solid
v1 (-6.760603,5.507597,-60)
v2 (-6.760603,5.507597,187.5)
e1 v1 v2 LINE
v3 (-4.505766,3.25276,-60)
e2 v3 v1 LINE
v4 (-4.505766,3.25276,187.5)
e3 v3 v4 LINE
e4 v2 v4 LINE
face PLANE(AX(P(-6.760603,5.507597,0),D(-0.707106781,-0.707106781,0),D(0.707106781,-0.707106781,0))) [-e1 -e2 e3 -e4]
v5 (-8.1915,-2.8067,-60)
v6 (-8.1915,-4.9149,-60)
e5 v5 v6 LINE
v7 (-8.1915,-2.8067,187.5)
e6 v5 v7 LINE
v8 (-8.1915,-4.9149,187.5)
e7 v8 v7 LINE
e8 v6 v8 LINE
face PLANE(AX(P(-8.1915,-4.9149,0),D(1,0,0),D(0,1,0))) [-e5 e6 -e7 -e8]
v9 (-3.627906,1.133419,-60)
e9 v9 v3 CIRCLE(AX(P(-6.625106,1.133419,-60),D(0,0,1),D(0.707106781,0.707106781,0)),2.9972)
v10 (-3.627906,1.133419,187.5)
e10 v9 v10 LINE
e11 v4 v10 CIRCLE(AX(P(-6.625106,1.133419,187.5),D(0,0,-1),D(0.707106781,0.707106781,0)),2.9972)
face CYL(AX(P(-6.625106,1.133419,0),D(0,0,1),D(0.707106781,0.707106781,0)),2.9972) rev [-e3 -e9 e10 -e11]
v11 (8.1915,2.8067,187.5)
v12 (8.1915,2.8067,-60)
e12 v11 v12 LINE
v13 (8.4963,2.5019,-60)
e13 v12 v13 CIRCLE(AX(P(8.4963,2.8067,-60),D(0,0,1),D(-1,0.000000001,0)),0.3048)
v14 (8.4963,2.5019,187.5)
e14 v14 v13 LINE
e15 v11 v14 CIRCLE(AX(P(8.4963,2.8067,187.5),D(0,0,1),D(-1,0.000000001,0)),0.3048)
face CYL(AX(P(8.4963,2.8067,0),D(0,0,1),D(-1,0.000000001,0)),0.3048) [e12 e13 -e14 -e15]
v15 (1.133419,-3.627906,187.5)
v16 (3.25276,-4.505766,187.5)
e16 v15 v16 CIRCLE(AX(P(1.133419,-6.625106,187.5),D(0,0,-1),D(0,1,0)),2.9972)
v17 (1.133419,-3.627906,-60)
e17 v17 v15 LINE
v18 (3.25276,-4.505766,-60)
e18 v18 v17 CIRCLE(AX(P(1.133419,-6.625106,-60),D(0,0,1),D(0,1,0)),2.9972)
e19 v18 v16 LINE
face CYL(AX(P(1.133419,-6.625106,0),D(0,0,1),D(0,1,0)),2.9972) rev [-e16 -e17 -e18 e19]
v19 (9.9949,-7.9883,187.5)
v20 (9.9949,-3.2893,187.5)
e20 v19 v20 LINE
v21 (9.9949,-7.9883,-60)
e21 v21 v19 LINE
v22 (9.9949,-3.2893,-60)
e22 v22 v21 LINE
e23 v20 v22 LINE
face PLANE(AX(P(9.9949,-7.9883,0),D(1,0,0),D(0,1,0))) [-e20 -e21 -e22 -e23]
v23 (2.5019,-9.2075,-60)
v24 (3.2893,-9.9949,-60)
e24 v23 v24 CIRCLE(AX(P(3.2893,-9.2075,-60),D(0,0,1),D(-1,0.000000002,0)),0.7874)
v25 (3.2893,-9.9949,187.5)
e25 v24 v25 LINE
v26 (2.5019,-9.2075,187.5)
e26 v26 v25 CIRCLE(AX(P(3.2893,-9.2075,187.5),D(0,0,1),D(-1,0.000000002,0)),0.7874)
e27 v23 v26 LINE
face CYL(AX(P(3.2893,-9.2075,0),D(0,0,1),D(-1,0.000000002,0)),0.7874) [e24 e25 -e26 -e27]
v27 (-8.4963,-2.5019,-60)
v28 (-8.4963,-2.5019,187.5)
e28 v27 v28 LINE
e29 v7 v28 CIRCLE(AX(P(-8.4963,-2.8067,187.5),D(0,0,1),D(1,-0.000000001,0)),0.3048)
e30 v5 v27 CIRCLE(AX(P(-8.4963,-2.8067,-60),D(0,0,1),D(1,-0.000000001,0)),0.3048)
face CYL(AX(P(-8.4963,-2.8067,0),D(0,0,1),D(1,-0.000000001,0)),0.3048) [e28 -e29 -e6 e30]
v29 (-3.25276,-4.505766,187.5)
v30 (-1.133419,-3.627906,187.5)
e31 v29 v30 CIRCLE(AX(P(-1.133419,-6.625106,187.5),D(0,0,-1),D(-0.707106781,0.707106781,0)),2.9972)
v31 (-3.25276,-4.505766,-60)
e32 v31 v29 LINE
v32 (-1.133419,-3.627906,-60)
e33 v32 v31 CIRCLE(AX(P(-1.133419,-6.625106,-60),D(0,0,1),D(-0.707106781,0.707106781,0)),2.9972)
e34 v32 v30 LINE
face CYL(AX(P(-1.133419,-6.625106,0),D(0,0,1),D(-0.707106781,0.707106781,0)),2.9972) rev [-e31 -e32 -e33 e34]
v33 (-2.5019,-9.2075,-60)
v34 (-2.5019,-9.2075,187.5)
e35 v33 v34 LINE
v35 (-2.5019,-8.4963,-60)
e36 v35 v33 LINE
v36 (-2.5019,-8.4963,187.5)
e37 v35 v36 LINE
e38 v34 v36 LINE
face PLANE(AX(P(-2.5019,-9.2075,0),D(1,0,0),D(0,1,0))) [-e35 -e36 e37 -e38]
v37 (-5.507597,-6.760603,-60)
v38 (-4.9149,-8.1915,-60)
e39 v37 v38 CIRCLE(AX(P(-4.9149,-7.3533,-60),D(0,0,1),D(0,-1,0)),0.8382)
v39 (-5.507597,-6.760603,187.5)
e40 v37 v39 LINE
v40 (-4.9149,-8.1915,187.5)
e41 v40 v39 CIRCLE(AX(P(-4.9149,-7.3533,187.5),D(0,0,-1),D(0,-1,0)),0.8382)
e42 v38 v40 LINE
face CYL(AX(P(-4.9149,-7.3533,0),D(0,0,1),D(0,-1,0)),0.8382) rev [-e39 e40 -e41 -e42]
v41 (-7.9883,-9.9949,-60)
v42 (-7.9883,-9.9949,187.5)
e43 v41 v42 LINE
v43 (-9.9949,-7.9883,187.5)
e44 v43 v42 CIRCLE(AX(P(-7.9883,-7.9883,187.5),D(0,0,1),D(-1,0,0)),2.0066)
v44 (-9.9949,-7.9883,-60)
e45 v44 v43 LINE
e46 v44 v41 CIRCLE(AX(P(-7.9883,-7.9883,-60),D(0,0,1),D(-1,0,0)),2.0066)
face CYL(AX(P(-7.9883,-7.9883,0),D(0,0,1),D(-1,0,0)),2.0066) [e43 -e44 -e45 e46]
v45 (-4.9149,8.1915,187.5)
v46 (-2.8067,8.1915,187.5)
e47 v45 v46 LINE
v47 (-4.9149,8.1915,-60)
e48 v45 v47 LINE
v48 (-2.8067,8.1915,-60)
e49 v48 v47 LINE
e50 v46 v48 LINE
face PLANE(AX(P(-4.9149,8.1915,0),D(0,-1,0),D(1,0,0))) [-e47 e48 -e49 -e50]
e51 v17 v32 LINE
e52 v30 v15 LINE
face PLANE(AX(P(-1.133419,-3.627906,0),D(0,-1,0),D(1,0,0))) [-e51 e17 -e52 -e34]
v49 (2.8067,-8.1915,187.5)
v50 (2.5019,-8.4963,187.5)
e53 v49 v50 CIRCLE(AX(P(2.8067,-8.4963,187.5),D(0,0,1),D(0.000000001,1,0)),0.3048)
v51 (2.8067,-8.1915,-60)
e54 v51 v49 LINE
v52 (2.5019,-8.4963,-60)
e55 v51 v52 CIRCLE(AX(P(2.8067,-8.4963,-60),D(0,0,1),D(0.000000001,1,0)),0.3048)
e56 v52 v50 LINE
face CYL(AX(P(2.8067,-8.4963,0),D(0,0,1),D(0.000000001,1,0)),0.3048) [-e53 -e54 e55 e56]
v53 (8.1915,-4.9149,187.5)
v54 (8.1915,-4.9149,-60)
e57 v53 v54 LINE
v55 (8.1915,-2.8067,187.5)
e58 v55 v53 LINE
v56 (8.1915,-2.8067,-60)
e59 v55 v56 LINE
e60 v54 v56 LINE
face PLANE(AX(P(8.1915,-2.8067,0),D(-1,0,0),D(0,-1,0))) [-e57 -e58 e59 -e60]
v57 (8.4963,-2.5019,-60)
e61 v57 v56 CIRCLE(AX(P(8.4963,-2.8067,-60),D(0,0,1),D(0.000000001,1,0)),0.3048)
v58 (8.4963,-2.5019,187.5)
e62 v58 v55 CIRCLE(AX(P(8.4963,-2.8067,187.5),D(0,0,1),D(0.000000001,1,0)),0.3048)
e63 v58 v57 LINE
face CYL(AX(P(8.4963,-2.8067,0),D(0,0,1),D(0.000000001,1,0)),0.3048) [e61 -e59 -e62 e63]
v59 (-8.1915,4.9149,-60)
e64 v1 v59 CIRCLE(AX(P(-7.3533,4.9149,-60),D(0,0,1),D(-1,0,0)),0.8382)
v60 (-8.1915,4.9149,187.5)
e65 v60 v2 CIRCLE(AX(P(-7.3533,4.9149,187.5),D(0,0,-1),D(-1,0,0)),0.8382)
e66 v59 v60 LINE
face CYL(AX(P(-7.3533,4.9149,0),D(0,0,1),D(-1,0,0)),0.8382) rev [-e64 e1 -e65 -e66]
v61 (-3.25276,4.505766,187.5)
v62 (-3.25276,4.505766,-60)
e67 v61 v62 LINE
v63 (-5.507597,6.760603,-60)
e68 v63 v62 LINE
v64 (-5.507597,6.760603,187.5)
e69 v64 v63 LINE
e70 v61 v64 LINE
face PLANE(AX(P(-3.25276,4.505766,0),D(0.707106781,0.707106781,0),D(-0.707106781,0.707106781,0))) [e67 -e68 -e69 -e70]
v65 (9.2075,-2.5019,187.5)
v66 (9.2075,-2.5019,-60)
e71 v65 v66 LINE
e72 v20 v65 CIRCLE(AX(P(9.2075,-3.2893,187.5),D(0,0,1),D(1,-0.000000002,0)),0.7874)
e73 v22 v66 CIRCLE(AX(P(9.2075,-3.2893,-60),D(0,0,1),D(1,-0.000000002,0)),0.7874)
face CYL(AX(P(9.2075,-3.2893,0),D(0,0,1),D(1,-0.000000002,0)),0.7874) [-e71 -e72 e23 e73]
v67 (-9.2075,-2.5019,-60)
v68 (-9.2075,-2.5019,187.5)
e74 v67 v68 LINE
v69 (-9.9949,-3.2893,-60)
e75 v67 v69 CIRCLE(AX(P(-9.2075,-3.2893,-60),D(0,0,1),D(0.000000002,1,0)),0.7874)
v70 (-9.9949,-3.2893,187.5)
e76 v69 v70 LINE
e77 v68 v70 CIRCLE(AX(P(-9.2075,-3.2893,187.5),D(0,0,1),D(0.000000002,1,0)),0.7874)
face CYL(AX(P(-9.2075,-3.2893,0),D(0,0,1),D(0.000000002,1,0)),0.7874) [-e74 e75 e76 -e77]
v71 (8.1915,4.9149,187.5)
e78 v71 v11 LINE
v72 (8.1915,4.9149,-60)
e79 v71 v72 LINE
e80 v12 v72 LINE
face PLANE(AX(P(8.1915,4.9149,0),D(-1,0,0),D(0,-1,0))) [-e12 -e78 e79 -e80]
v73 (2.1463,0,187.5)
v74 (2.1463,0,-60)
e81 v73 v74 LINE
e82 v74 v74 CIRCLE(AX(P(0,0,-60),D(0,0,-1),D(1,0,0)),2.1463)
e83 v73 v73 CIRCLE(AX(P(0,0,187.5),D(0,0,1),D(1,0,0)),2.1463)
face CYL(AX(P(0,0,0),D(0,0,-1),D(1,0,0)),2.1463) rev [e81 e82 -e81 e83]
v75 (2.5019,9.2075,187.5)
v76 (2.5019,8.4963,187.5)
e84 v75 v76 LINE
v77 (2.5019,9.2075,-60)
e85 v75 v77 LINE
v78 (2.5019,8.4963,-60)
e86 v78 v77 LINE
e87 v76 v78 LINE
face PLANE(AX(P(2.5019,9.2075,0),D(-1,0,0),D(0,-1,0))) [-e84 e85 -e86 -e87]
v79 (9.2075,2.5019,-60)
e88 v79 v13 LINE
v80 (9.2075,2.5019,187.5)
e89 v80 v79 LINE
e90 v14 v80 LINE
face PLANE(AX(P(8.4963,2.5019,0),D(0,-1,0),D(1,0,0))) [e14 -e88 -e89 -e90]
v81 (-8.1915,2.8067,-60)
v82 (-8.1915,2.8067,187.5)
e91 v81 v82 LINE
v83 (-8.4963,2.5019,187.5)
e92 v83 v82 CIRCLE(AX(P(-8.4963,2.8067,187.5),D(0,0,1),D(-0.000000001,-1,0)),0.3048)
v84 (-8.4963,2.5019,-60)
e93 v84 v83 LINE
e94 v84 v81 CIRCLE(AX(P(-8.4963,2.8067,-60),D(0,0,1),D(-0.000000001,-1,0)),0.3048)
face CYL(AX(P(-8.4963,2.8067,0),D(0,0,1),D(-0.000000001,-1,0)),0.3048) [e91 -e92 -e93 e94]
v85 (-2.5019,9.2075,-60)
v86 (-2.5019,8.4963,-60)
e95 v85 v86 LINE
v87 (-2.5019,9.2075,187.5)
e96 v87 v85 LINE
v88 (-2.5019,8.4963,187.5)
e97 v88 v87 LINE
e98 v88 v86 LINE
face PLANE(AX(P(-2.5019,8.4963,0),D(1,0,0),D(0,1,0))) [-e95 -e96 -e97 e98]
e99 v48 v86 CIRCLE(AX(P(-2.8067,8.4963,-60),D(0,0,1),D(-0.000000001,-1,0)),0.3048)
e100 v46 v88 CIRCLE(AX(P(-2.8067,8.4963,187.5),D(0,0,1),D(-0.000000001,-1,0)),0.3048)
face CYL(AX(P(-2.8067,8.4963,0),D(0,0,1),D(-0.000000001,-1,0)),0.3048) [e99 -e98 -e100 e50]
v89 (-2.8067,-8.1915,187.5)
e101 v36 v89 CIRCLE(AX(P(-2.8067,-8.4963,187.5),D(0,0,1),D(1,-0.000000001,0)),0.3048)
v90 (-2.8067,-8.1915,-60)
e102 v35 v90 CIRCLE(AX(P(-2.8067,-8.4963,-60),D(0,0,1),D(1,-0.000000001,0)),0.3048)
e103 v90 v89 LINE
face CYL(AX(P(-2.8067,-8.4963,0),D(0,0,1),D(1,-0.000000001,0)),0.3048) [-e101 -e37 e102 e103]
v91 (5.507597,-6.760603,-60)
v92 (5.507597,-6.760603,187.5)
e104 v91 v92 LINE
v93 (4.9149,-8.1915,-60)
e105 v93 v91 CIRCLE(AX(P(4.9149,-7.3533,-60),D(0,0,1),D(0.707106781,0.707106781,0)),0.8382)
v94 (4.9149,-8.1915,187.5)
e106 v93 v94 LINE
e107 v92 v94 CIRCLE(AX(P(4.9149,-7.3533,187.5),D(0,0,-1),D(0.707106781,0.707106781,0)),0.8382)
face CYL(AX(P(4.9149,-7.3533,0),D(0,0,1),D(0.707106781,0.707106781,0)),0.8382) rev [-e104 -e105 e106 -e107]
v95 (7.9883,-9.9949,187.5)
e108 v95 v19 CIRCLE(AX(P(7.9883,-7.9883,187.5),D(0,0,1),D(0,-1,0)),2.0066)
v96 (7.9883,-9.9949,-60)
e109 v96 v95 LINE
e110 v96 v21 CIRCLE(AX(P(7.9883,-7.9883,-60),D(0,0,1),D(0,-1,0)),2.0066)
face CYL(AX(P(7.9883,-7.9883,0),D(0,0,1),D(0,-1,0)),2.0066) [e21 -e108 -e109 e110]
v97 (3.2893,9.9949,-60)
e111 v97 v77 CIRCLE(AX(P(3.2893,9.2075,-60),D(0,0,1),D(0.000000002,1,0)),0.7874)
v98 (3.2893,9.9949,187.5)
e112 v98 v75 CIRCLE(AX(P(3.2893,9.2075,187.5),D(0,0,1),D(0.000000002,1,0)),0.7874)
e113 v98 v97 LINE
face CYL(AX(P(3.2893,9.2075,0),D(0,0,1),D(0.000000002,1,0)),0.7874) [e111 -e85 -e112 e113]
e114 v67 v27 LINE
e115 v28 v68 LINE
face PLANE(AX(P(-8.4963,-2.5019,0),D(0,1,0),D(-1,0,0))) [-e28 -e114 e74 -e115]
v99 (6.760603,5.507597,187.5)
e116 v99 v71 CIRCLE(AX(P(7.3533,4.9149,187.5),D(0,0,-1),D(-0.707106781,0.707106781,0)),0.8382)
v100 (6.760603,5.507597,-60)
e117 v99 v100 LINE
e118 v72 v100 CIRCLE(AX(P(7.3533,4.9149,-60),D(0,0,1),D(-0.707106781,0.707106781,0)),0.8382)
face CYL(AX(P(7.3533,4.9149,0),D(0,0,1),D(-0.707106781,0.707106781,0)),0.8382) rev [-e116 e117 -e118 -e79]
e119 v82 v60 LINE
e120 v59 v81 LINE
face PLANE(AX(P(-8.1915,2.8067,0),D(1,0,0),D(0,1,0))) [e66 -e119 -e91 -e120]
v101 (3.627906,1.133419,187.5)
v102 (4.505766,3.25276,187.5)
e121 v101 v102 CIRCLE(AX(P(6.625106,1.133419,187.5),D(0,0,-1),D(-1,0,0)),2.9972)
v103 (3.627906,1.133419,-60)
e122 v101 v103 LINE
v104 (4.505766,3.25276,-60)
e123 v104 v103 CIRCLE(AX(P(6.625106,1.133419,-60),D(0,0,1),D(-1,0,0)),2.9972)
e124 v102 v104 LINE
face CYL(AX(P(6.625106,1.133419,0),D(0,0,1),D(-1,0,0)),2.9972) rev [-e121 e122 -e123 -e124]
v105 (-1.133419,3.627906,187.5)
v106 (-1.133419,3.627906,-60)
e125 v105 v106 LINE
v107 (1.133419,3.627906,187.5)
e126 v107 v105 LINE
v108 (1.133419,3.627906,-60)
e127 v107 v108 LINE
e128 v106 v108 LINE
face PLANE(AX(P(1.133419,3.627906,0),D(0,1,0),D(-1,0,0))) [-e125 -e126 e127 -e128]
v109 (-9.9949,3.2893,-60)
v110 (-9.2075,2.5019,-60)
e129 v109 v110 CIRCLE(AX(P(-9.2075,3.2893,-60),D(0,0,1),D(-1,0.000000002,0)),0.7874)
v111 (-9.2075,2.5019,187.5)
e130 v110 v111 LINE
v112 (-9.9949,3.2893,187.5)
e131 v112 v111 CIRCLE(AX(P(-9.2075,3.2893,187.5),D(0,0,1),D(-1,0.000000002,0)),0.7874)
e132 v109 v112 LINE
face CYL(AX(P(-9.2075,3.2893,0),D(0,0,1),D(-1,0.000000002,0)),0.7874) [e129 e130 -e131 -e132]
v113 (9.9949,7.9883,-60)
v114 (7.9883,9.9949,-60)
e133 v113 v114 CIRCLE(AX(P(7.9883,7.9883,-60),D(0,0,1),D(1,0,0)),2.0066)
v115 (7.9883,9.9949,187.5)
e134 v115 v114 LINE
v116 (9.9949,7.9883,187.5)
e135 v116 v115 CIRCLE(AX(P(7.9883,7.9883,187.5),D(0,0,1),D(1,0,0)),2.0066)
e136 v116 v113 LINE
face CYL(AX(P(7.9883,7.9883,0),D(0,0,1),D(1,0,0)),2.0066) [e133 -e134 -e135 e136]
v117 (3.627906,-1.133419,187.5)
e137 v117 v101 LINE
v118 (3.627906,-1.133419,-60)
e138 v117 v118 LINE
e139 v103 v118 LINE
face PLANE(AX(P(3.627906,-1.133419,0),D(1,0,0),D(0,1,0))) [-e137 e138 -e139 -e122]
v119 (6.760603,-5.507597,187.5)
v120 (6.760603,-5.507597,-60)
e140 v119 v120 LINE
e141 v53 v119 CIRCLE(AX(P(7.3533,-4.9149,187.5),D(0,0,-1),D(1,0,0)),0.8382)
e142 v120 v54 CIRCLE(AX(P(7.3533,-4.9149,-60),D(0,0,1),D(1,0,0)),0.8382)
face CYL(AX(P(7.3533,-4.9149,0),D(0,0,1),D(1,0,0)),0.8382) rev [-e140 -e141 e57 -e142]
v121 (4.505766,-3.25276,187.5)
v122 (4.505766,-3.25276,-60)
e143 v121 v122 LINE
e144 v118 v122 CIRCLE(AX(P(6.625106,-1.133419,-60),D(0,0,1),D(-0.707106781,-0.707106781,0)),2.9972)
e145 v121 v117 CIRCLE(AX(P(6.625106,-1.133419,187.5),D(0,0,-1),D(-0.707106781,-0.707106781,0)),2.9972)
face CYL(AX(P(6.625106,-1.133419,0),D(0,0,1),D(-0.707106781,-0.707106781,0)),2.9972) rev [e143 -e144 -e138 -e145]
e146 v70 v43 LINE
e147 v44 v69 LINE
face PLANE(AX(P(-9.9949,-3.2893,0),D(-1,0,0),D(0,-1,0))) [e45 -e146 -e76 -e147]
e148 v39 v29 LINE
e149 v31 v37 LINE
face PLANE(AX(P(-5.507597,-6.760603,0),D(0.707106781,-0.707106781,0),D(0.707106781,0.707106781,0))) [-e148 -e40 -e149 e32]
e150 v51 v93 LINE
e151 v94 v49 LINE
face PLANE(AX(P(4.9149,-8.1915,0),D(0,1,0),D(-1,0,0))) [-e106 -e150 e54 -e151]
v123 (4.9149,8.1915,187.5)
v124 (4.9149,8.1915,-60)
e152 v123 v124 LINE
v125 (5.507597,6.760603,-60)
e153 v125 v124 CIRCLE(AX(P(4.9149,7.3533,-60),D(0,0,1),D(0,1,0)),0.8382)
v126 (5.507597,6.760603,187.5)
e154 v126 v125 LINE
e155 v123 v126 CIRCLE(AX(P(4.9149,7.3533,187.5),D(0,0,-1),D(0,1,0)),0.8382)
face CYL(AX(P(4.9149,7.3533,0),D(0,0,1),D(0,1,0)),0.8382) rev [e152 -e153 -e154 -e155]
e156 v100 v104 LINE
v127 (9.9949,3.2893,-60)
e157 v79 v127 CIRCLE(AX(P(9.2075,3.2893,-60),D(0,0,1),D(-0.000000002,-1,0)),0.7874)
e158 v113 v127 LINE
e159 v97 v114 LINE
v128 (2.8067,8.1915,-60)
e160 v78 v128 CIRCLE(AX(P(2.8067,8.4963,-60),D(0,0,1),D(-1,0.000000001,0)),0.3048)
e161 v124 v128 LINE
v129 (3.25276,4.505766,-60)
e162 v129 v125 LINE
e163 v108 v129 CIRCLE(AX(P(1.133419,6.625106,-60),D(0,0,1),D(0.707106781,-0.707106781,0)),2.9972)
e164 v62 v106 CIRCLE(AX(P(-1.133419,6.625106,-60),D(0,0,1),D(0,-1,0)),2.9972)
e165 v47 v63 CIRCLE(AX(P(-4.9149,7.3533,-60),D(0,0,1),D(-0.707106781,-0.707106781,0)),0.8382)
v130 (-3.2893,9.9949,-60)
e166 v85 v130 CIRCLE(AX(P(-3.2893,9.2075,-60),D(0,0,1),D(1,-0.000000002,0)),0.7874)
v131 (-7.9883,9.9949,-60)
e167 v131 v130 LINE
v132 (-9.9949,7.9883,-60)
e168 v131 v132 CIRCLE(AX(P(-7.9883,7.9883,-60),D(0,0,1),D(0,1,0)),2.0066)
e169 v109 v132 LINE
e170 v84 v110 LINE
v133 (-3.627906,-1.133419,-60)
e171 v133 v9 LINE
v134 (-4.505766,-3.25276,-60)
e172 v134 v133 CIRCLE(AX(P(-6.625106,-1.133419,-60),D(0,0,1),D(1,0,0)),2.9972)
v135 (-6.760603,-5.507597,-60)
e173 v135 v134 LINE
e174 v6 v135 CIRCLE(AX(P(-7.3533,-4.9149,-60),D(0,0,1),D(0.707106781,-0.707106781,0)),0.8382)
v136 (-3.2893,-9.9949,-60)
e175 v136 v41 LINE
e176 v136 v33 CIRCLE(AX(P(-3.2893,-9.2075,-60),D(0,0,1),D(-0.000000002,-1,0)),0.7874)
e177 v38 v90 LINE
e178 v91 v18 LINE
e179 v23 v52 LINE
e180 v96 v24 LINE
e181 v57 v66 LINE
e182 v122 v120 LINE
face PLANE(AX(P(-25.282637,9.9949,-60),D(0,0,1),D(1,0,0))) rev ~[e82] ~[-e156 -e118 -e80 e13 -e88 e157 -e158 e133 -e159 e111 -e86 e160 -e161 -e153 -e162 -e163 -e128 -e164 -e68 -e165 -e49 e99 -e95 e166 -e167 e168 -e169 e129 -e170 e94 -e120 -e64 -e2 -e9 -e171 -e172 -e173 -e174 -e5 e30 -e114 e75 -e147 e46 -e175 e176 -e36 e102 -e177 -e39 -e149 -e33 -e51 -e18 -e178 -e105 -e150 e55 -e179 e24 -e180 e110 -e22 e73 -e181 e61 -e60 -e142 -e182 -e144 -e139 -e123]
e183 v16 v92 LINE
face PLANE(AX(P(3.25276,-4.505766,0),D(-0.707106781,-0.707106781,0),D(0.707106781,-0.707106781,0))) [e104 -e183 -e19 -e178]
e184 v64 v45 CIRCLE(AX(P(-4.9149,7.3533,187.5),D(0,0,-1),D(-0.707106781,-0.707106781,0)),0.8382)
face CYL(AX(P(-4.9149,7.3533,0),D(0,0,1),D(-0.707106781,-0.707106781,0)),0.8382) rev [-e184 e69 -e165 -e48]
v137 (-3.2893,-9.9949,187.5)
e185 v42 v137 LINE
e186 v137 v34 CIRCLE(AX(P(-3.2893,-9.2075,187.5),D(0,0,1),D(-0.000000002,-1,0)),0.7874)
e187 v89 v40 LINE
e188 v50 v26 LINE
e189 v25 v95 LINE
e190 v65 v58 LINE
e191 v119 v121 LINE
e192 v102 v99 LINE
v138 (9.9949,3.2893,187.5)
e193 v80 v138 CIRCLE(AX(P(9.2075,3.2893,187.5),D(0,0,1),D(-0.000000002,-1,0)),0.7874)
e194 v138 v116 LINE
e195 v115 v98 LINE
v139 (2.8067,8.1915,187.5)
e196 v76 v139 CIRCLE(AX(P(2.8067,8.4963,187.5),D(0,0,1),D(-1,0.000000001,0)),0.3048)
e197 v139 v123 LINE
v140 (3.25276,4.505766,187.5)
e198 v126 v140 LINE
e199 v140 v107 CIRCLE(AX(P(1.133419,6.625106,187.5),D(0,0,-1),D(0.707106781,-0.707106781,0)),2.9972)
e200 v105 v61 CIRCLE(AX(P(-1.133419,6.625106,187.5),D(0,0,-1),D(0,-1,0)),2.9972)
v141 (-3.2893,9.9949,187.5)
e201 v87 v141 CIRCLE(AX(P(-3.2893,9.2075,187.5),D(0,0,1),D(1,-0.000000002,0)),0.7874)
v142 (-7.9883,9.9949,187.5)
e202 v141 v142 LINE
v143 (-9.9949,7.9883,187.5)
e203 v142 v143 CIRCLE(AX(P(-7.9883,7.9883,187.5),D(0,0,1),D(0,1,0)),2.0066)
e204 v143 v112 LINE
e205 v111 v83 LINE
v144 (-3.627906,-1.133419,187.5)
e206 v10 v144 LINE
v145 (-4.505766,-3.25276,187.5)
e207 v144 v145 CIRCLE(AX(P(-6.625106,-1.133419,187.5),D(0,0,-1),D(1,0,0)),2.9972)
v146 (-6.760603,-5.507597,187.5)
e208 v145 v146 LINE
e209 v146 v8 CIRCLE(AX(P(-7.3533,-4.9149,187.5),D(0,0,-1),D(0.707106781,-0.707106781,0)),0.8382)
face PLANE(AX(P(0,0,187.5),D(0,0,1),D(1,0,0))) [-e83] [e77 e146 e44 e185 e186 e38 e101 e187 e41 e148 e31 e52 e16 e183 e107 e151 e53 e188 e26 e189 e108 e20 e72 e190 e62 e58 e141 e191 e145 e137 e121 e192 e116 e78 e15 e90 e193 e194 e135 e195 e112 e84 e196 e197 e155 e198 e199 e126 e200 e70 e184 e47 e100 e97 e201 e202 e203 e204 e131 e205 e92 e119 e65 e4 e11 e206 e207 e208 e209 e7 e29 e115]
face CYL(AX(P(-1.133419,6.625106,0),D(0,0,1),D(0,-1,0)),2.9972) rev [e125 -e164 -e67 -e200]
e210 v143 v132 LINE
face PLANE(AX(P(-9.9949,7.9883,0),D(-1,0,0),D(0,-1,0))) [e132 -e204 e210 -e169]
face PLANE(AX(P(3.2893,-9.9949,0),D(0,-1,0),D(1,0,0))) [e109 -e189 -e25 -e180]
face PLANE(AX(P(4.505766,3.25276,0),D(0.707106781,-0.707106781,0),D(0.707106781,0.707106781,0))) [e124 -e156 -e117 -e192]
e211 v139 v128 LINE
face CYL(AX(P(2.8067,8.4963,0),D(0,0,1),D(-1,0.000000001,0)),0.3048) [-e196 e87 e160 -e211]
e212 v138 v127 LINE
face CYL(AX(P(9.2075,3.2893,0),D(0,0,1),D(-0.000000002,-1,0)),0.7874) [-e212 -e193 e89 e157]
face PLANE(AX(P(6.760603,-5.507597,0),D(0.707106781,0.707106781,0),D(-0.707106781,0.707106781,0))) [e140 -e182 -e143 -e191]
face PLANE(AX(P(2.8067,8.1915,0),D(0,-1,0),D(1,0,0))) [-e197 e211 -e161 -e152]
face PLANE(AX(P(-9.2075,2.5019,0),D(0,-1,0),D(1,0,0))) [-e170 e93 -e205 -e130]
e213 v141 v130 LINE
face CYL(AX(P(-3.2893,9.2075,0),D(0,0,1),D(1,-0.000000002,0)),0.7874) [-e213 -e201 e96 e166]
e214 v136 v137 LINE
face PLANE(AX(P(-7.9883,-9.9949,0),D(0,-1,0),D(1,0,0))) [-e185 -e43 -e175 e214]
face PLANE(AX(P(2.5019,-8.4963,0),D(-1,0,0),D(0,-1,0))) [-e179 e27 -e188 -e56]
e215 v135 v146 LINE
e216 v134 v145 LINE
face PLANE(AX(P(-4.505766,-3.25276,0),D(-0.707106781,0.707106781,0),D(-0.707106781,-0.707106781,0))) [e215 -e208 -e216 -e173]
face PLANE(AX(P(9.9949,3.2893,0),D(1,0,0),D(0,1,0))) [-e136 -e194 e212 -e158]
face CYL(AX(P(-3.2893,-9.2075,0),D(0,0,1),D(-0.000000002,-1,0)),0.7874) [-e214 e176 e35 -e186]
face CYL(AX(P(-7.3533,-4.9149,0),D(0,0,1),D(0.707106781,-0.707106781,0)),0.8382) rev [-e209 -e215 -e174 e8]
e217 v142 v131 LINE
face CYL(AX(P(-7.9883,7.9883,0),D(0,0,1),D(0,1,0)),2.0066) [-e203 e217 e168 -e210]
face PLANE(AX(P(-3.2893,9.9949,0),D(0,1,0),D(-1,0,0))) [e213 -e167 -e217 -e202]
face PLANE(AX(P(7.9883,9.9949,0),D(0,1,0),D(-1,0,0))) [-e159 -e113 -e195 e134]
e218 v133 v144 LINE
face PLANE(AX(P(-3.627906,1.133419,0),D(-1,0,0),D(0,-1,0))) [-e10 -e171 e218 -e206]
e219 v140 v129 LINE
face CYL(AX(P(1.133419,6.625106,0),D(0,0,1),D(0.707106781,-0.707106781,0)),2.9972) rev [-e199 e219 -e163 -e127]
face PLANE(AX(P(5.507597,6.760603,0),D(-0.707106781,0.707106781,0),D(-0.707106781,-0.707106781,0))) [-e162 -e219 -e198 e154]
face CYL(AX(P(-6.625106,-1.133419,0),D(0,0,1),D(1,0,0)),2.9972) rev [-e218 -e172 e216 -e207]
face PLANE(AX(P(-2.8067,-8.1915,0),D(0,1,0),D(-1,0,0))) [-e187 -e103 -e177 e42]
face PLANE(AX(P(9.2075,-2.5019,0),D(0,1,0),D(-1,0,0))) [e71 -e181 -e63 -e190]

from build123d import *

# Parameters (mm, degrees)
SKETCH1_R           = 2.1463
BOSS_EXTRUDE1_DEPTH = 187.5
SKETCH2_W           = 61.526977309
SKETCH2_H           = 152.756633319
CUT_EXTRUDE1_DEPTH  = 20.9898


with BuildPart() as part:
    # Sketch1 → Boss-Extrude1 (new body, symmetric)
    with BuildSketch(Plane.XY):
        with BuildLine():
            Line((-9.9949, 7.9883), (-9.9949, 3.2893))
            ThreePointArc((-9.9949, 3.2893), (-9.76427588, 2.73252412), (-9.2075, 2.5019))
            Line((-9.2075, 2.5019), (-8.4963, 2.5019))
            ThreePointArc((-8.4963, 2.5019), (-8.280773853, 2.591173853), (-8.1915, 2.8067))
            Line((-8.1915, 2.8067), (-8.1915, 4.9149))
            ThreePointArc((-8.1915, 4.9149), (-7.674065253, 5.689295824), (-6.760603096, 5.507596904))
            Line((-6.760603096, 5.507596904), (-4.505765747, 3.252759555))
            ThreePointArc((-4.505765747, 3.252759555), (-3.856054457, 2.280397894), (-3.627906192, 1.133419111))
            Line((-3.627906192, 1.133419111), (-3.627906192, -1.133419111))
            ThreePointArc((-3.627906192, -1.133419111), (-3.856054457, -2.280397894), (-4.505765747, -3.252759555))
            Line((-4.505765747, -3.252759555), (-6.760603096, -5.507596904))
            ThreePointArc((-6.760603096, -5.507596904), (-7.674065253, -5.689295824), (-8.1915, -4.9149))
            Line((-8.1915, -4.9149), (-8.1915, -2.8067))
            ThreePointArc((-8.1915, -2.8067), (-8.280773853, -2.591173853), (-8.4963, -2.5019))
            Line((-8.4963, -2.5019), (-9.2075, -2.5019))
            ThreePointArc((-9.2075, -2.5019), (-9.76427588, -2.73252412), (-9.9949, -3.2893))
            Line((-9.9949, -3.2893), (-9.9949, -7.9883))
            ThreePointArc((-9.9949, -7.9883), (-9.407180467, -9.407180467), (-7.9883, -9.9949))
            Line((-7.9883, -9.9949), (-3.2893, -9.9949))
            ThreePointArc((-3.2893, -9.9949), (-2.73252412, -9.76427588), (-2.5019, -9.2075))
            Line((-2.5019, -9.2075), (-2.5019, -8.4963))
            ThreePointArc((-2.5019, -8.4963), (-2.591173853, -8.280773853), (-2.8067, -8.1915))
            Line((-2.8067, -8.1915), (-4.9149, -8.1915))
            ThreePointArc((-4.9149, -8.1915), (-5.689295824, -7.674065253), (-5.507596904, -6.760603096))
            Line((-5.507596904, -6.760603096), (-3.252759555, -4.505765747))
            ThreePointArc((-3.252759555, -4.505765747), (-2.280397894, -3.856054457), (-1.133419111, -3.627906192))
            Line((-1.133419111, -3.627906192), (1.133419111, -3.627906192))
            ThreePointArc((1.133419111, -3.627906192), (2.280397894, -3.856054457), (3.252759555, -4.505765747))
            Line((3.252759555, -4.505765747), (5.507596904, -6.760603096))
            ThreePointArc((5.507596904, -6.760603096), (5.689295824, -7.674065253), (4.9149, -8.1915))
            Line((4.9149, -8.1915), (2.8067, -8.1915))
            ThreePointArc((2.8067, -8.1915), (2.591173853, -8.280773853), (2.5019, -8.4963))
            Line((2.5019, -8.4963), (2.5019, -9.2075))
            ThreePointArc((2.5019, -9.2075), (2.73252412, -9.76427588), (3.2893, -9.9949))
            Line((3.2893, -9.9949), (7.9883, -9.9949))
            ThreePointArc((7.9883, -9.9949), (9.407180467, -9.407180467), (9.9949, -7.9883))
            Line((9.9949, -7.9883), (9.9949, -3.2893))
            ThreePointArc((9.9949, -3.2893), (9.76427588, -2.73252412), (9.2075, -2.5019))
            Line((9.2075, -2.5019), (8.4963, -2.5019))
            ThreePointArc((8.4963, -2.5019), (8.280773853, -2.591173853), (8.1915, -2.8067))
            Line((8.1915, -2.8067), (8.1915, -4.9149))
            ThreePointArc((8.1915, -4.9149), (7.674065253, -5.689295824), (6.760603096, -5.507596904))
            Line((6.760603096, -5.507596904), (4.505765747, -3.252759555))
            ThreePointArc((4.505765747, -3.252759555), (3.856054457, -2.280397894), (3.627906192, -1.133419111))
            Line((3.627906192, -1.133419111), (3.627906192, 1.133419111))
            ThreePointArc((3.627906192, 1.133419111), (3.856054457, 2.280397894), (4.505765747, 3.252759555))
            Line((4.505765747, 3.252759555), (6.760603096, 5.507596904))
            ThreePointArc((6.760603096, 5.507596904), (7.674065253, 5.689295824), (8.1915, 4.9149))
            Line((8.1915, 4.9149), (8.1915, 2.8067))
            ThreePointArc((8.1915, 2.8067), (8.280773853, 2.591173853), (8.4963, 2.5019))
            Line((8.4963, 2.5019), (9.2075, 2.5019))
            ThreePointArc((9.2075, 2.5019), (9.76427588, 2.73252412), (9.9949, 3.2893))
            Line((9.9949, 3.2893), (9.9949, 7.9883))
            ThreePointArc((9.9949, 7.9883), (9.407180467, 9.407180467), (7.9883, 9.9949))
            Line((7.9883, 9.9949), (3.2893, 9.9949))
            ThreePointArc((3.2893, 9.9949), (2.73252412, 9.76427588), (2.5019, 9.2075))
            Line((2.5019, 9.2075), (2.5019, 8.4963))
            ThreePointArc((2.5019, 8.4963), (2.591173853, 8.280773853), (2.8067, 8.1915))
            Line((2.8067, 8.1915), (4.9149, 8.1915))
            ThreePointArc((4.9149, 8.1915), (5.689295824, 7.674065253), (5.507596904, 6.760603096))
            Line((5.507596904, 6.760603096), (3.252759555, 4.505765747))
            ThreePointArc((3.252759555, 4.505765747), (2.280397894, 3.856054457), (1.133419111, 3.627906192))
            Line((1.133419111, 3.627906192), (-1.133419111, 3.627906192))
            ThreePointArc((-1.133419111, 3.627906192), (-2.280397894, 3.856054457), (-3.252759555, 4.505765747))
            Line((-3.252759555, 4.505765747), (-5.507596904, 6.760603096))
            ThreePointArc((-5.507596904, 6.760603096), (-5.689295824, 7.674065253), (-4.9149, 8.1915))
            Line((-4.9149, 8.1915), (-2.8067, 8.1915))
            ThreePointArc((-2.8067, 8.1915), (-2.591173853, 8.280773853), (-2.5019, 8.4963))
            Line((-2.5019, 8.4963), (-2.5019, 9.2075))
            ThreePointArc((-2.5019, 9.2075), (-2.73252412, 9.76427588), (-3.2893, 9.9949))
            Line((-3.2893, 9.9949), (-7.9883, 9.9949))
            ThreePointArc((-7.9883, 9.9949), (-9.407180467, 9.407180467), (-9.9949, 7.9883))
        make_face()
        Circle(SKETCH1_R, mode=Mode.SUBTRACT)
    extrude(amount=BOSS_EXTRUDE1_DEPTH, both=True)

    # Sketch2 → Cut-Extrude1 (cut, through all)
    with BuildSketch(Plane(origin=(0, 9.9949, 0), x_dir=(1, 0, 0), z_dir=(0, 1, 0))):
        with Locations((5.480851427, 136.37831666)):
            Rectangle(SKETCH2_W, SKETCH2_H)
    extrude(amount=-CUT_EXTRUDE1_DEPTH, mode=Mode.SUBTRACT)


solid = part.part
